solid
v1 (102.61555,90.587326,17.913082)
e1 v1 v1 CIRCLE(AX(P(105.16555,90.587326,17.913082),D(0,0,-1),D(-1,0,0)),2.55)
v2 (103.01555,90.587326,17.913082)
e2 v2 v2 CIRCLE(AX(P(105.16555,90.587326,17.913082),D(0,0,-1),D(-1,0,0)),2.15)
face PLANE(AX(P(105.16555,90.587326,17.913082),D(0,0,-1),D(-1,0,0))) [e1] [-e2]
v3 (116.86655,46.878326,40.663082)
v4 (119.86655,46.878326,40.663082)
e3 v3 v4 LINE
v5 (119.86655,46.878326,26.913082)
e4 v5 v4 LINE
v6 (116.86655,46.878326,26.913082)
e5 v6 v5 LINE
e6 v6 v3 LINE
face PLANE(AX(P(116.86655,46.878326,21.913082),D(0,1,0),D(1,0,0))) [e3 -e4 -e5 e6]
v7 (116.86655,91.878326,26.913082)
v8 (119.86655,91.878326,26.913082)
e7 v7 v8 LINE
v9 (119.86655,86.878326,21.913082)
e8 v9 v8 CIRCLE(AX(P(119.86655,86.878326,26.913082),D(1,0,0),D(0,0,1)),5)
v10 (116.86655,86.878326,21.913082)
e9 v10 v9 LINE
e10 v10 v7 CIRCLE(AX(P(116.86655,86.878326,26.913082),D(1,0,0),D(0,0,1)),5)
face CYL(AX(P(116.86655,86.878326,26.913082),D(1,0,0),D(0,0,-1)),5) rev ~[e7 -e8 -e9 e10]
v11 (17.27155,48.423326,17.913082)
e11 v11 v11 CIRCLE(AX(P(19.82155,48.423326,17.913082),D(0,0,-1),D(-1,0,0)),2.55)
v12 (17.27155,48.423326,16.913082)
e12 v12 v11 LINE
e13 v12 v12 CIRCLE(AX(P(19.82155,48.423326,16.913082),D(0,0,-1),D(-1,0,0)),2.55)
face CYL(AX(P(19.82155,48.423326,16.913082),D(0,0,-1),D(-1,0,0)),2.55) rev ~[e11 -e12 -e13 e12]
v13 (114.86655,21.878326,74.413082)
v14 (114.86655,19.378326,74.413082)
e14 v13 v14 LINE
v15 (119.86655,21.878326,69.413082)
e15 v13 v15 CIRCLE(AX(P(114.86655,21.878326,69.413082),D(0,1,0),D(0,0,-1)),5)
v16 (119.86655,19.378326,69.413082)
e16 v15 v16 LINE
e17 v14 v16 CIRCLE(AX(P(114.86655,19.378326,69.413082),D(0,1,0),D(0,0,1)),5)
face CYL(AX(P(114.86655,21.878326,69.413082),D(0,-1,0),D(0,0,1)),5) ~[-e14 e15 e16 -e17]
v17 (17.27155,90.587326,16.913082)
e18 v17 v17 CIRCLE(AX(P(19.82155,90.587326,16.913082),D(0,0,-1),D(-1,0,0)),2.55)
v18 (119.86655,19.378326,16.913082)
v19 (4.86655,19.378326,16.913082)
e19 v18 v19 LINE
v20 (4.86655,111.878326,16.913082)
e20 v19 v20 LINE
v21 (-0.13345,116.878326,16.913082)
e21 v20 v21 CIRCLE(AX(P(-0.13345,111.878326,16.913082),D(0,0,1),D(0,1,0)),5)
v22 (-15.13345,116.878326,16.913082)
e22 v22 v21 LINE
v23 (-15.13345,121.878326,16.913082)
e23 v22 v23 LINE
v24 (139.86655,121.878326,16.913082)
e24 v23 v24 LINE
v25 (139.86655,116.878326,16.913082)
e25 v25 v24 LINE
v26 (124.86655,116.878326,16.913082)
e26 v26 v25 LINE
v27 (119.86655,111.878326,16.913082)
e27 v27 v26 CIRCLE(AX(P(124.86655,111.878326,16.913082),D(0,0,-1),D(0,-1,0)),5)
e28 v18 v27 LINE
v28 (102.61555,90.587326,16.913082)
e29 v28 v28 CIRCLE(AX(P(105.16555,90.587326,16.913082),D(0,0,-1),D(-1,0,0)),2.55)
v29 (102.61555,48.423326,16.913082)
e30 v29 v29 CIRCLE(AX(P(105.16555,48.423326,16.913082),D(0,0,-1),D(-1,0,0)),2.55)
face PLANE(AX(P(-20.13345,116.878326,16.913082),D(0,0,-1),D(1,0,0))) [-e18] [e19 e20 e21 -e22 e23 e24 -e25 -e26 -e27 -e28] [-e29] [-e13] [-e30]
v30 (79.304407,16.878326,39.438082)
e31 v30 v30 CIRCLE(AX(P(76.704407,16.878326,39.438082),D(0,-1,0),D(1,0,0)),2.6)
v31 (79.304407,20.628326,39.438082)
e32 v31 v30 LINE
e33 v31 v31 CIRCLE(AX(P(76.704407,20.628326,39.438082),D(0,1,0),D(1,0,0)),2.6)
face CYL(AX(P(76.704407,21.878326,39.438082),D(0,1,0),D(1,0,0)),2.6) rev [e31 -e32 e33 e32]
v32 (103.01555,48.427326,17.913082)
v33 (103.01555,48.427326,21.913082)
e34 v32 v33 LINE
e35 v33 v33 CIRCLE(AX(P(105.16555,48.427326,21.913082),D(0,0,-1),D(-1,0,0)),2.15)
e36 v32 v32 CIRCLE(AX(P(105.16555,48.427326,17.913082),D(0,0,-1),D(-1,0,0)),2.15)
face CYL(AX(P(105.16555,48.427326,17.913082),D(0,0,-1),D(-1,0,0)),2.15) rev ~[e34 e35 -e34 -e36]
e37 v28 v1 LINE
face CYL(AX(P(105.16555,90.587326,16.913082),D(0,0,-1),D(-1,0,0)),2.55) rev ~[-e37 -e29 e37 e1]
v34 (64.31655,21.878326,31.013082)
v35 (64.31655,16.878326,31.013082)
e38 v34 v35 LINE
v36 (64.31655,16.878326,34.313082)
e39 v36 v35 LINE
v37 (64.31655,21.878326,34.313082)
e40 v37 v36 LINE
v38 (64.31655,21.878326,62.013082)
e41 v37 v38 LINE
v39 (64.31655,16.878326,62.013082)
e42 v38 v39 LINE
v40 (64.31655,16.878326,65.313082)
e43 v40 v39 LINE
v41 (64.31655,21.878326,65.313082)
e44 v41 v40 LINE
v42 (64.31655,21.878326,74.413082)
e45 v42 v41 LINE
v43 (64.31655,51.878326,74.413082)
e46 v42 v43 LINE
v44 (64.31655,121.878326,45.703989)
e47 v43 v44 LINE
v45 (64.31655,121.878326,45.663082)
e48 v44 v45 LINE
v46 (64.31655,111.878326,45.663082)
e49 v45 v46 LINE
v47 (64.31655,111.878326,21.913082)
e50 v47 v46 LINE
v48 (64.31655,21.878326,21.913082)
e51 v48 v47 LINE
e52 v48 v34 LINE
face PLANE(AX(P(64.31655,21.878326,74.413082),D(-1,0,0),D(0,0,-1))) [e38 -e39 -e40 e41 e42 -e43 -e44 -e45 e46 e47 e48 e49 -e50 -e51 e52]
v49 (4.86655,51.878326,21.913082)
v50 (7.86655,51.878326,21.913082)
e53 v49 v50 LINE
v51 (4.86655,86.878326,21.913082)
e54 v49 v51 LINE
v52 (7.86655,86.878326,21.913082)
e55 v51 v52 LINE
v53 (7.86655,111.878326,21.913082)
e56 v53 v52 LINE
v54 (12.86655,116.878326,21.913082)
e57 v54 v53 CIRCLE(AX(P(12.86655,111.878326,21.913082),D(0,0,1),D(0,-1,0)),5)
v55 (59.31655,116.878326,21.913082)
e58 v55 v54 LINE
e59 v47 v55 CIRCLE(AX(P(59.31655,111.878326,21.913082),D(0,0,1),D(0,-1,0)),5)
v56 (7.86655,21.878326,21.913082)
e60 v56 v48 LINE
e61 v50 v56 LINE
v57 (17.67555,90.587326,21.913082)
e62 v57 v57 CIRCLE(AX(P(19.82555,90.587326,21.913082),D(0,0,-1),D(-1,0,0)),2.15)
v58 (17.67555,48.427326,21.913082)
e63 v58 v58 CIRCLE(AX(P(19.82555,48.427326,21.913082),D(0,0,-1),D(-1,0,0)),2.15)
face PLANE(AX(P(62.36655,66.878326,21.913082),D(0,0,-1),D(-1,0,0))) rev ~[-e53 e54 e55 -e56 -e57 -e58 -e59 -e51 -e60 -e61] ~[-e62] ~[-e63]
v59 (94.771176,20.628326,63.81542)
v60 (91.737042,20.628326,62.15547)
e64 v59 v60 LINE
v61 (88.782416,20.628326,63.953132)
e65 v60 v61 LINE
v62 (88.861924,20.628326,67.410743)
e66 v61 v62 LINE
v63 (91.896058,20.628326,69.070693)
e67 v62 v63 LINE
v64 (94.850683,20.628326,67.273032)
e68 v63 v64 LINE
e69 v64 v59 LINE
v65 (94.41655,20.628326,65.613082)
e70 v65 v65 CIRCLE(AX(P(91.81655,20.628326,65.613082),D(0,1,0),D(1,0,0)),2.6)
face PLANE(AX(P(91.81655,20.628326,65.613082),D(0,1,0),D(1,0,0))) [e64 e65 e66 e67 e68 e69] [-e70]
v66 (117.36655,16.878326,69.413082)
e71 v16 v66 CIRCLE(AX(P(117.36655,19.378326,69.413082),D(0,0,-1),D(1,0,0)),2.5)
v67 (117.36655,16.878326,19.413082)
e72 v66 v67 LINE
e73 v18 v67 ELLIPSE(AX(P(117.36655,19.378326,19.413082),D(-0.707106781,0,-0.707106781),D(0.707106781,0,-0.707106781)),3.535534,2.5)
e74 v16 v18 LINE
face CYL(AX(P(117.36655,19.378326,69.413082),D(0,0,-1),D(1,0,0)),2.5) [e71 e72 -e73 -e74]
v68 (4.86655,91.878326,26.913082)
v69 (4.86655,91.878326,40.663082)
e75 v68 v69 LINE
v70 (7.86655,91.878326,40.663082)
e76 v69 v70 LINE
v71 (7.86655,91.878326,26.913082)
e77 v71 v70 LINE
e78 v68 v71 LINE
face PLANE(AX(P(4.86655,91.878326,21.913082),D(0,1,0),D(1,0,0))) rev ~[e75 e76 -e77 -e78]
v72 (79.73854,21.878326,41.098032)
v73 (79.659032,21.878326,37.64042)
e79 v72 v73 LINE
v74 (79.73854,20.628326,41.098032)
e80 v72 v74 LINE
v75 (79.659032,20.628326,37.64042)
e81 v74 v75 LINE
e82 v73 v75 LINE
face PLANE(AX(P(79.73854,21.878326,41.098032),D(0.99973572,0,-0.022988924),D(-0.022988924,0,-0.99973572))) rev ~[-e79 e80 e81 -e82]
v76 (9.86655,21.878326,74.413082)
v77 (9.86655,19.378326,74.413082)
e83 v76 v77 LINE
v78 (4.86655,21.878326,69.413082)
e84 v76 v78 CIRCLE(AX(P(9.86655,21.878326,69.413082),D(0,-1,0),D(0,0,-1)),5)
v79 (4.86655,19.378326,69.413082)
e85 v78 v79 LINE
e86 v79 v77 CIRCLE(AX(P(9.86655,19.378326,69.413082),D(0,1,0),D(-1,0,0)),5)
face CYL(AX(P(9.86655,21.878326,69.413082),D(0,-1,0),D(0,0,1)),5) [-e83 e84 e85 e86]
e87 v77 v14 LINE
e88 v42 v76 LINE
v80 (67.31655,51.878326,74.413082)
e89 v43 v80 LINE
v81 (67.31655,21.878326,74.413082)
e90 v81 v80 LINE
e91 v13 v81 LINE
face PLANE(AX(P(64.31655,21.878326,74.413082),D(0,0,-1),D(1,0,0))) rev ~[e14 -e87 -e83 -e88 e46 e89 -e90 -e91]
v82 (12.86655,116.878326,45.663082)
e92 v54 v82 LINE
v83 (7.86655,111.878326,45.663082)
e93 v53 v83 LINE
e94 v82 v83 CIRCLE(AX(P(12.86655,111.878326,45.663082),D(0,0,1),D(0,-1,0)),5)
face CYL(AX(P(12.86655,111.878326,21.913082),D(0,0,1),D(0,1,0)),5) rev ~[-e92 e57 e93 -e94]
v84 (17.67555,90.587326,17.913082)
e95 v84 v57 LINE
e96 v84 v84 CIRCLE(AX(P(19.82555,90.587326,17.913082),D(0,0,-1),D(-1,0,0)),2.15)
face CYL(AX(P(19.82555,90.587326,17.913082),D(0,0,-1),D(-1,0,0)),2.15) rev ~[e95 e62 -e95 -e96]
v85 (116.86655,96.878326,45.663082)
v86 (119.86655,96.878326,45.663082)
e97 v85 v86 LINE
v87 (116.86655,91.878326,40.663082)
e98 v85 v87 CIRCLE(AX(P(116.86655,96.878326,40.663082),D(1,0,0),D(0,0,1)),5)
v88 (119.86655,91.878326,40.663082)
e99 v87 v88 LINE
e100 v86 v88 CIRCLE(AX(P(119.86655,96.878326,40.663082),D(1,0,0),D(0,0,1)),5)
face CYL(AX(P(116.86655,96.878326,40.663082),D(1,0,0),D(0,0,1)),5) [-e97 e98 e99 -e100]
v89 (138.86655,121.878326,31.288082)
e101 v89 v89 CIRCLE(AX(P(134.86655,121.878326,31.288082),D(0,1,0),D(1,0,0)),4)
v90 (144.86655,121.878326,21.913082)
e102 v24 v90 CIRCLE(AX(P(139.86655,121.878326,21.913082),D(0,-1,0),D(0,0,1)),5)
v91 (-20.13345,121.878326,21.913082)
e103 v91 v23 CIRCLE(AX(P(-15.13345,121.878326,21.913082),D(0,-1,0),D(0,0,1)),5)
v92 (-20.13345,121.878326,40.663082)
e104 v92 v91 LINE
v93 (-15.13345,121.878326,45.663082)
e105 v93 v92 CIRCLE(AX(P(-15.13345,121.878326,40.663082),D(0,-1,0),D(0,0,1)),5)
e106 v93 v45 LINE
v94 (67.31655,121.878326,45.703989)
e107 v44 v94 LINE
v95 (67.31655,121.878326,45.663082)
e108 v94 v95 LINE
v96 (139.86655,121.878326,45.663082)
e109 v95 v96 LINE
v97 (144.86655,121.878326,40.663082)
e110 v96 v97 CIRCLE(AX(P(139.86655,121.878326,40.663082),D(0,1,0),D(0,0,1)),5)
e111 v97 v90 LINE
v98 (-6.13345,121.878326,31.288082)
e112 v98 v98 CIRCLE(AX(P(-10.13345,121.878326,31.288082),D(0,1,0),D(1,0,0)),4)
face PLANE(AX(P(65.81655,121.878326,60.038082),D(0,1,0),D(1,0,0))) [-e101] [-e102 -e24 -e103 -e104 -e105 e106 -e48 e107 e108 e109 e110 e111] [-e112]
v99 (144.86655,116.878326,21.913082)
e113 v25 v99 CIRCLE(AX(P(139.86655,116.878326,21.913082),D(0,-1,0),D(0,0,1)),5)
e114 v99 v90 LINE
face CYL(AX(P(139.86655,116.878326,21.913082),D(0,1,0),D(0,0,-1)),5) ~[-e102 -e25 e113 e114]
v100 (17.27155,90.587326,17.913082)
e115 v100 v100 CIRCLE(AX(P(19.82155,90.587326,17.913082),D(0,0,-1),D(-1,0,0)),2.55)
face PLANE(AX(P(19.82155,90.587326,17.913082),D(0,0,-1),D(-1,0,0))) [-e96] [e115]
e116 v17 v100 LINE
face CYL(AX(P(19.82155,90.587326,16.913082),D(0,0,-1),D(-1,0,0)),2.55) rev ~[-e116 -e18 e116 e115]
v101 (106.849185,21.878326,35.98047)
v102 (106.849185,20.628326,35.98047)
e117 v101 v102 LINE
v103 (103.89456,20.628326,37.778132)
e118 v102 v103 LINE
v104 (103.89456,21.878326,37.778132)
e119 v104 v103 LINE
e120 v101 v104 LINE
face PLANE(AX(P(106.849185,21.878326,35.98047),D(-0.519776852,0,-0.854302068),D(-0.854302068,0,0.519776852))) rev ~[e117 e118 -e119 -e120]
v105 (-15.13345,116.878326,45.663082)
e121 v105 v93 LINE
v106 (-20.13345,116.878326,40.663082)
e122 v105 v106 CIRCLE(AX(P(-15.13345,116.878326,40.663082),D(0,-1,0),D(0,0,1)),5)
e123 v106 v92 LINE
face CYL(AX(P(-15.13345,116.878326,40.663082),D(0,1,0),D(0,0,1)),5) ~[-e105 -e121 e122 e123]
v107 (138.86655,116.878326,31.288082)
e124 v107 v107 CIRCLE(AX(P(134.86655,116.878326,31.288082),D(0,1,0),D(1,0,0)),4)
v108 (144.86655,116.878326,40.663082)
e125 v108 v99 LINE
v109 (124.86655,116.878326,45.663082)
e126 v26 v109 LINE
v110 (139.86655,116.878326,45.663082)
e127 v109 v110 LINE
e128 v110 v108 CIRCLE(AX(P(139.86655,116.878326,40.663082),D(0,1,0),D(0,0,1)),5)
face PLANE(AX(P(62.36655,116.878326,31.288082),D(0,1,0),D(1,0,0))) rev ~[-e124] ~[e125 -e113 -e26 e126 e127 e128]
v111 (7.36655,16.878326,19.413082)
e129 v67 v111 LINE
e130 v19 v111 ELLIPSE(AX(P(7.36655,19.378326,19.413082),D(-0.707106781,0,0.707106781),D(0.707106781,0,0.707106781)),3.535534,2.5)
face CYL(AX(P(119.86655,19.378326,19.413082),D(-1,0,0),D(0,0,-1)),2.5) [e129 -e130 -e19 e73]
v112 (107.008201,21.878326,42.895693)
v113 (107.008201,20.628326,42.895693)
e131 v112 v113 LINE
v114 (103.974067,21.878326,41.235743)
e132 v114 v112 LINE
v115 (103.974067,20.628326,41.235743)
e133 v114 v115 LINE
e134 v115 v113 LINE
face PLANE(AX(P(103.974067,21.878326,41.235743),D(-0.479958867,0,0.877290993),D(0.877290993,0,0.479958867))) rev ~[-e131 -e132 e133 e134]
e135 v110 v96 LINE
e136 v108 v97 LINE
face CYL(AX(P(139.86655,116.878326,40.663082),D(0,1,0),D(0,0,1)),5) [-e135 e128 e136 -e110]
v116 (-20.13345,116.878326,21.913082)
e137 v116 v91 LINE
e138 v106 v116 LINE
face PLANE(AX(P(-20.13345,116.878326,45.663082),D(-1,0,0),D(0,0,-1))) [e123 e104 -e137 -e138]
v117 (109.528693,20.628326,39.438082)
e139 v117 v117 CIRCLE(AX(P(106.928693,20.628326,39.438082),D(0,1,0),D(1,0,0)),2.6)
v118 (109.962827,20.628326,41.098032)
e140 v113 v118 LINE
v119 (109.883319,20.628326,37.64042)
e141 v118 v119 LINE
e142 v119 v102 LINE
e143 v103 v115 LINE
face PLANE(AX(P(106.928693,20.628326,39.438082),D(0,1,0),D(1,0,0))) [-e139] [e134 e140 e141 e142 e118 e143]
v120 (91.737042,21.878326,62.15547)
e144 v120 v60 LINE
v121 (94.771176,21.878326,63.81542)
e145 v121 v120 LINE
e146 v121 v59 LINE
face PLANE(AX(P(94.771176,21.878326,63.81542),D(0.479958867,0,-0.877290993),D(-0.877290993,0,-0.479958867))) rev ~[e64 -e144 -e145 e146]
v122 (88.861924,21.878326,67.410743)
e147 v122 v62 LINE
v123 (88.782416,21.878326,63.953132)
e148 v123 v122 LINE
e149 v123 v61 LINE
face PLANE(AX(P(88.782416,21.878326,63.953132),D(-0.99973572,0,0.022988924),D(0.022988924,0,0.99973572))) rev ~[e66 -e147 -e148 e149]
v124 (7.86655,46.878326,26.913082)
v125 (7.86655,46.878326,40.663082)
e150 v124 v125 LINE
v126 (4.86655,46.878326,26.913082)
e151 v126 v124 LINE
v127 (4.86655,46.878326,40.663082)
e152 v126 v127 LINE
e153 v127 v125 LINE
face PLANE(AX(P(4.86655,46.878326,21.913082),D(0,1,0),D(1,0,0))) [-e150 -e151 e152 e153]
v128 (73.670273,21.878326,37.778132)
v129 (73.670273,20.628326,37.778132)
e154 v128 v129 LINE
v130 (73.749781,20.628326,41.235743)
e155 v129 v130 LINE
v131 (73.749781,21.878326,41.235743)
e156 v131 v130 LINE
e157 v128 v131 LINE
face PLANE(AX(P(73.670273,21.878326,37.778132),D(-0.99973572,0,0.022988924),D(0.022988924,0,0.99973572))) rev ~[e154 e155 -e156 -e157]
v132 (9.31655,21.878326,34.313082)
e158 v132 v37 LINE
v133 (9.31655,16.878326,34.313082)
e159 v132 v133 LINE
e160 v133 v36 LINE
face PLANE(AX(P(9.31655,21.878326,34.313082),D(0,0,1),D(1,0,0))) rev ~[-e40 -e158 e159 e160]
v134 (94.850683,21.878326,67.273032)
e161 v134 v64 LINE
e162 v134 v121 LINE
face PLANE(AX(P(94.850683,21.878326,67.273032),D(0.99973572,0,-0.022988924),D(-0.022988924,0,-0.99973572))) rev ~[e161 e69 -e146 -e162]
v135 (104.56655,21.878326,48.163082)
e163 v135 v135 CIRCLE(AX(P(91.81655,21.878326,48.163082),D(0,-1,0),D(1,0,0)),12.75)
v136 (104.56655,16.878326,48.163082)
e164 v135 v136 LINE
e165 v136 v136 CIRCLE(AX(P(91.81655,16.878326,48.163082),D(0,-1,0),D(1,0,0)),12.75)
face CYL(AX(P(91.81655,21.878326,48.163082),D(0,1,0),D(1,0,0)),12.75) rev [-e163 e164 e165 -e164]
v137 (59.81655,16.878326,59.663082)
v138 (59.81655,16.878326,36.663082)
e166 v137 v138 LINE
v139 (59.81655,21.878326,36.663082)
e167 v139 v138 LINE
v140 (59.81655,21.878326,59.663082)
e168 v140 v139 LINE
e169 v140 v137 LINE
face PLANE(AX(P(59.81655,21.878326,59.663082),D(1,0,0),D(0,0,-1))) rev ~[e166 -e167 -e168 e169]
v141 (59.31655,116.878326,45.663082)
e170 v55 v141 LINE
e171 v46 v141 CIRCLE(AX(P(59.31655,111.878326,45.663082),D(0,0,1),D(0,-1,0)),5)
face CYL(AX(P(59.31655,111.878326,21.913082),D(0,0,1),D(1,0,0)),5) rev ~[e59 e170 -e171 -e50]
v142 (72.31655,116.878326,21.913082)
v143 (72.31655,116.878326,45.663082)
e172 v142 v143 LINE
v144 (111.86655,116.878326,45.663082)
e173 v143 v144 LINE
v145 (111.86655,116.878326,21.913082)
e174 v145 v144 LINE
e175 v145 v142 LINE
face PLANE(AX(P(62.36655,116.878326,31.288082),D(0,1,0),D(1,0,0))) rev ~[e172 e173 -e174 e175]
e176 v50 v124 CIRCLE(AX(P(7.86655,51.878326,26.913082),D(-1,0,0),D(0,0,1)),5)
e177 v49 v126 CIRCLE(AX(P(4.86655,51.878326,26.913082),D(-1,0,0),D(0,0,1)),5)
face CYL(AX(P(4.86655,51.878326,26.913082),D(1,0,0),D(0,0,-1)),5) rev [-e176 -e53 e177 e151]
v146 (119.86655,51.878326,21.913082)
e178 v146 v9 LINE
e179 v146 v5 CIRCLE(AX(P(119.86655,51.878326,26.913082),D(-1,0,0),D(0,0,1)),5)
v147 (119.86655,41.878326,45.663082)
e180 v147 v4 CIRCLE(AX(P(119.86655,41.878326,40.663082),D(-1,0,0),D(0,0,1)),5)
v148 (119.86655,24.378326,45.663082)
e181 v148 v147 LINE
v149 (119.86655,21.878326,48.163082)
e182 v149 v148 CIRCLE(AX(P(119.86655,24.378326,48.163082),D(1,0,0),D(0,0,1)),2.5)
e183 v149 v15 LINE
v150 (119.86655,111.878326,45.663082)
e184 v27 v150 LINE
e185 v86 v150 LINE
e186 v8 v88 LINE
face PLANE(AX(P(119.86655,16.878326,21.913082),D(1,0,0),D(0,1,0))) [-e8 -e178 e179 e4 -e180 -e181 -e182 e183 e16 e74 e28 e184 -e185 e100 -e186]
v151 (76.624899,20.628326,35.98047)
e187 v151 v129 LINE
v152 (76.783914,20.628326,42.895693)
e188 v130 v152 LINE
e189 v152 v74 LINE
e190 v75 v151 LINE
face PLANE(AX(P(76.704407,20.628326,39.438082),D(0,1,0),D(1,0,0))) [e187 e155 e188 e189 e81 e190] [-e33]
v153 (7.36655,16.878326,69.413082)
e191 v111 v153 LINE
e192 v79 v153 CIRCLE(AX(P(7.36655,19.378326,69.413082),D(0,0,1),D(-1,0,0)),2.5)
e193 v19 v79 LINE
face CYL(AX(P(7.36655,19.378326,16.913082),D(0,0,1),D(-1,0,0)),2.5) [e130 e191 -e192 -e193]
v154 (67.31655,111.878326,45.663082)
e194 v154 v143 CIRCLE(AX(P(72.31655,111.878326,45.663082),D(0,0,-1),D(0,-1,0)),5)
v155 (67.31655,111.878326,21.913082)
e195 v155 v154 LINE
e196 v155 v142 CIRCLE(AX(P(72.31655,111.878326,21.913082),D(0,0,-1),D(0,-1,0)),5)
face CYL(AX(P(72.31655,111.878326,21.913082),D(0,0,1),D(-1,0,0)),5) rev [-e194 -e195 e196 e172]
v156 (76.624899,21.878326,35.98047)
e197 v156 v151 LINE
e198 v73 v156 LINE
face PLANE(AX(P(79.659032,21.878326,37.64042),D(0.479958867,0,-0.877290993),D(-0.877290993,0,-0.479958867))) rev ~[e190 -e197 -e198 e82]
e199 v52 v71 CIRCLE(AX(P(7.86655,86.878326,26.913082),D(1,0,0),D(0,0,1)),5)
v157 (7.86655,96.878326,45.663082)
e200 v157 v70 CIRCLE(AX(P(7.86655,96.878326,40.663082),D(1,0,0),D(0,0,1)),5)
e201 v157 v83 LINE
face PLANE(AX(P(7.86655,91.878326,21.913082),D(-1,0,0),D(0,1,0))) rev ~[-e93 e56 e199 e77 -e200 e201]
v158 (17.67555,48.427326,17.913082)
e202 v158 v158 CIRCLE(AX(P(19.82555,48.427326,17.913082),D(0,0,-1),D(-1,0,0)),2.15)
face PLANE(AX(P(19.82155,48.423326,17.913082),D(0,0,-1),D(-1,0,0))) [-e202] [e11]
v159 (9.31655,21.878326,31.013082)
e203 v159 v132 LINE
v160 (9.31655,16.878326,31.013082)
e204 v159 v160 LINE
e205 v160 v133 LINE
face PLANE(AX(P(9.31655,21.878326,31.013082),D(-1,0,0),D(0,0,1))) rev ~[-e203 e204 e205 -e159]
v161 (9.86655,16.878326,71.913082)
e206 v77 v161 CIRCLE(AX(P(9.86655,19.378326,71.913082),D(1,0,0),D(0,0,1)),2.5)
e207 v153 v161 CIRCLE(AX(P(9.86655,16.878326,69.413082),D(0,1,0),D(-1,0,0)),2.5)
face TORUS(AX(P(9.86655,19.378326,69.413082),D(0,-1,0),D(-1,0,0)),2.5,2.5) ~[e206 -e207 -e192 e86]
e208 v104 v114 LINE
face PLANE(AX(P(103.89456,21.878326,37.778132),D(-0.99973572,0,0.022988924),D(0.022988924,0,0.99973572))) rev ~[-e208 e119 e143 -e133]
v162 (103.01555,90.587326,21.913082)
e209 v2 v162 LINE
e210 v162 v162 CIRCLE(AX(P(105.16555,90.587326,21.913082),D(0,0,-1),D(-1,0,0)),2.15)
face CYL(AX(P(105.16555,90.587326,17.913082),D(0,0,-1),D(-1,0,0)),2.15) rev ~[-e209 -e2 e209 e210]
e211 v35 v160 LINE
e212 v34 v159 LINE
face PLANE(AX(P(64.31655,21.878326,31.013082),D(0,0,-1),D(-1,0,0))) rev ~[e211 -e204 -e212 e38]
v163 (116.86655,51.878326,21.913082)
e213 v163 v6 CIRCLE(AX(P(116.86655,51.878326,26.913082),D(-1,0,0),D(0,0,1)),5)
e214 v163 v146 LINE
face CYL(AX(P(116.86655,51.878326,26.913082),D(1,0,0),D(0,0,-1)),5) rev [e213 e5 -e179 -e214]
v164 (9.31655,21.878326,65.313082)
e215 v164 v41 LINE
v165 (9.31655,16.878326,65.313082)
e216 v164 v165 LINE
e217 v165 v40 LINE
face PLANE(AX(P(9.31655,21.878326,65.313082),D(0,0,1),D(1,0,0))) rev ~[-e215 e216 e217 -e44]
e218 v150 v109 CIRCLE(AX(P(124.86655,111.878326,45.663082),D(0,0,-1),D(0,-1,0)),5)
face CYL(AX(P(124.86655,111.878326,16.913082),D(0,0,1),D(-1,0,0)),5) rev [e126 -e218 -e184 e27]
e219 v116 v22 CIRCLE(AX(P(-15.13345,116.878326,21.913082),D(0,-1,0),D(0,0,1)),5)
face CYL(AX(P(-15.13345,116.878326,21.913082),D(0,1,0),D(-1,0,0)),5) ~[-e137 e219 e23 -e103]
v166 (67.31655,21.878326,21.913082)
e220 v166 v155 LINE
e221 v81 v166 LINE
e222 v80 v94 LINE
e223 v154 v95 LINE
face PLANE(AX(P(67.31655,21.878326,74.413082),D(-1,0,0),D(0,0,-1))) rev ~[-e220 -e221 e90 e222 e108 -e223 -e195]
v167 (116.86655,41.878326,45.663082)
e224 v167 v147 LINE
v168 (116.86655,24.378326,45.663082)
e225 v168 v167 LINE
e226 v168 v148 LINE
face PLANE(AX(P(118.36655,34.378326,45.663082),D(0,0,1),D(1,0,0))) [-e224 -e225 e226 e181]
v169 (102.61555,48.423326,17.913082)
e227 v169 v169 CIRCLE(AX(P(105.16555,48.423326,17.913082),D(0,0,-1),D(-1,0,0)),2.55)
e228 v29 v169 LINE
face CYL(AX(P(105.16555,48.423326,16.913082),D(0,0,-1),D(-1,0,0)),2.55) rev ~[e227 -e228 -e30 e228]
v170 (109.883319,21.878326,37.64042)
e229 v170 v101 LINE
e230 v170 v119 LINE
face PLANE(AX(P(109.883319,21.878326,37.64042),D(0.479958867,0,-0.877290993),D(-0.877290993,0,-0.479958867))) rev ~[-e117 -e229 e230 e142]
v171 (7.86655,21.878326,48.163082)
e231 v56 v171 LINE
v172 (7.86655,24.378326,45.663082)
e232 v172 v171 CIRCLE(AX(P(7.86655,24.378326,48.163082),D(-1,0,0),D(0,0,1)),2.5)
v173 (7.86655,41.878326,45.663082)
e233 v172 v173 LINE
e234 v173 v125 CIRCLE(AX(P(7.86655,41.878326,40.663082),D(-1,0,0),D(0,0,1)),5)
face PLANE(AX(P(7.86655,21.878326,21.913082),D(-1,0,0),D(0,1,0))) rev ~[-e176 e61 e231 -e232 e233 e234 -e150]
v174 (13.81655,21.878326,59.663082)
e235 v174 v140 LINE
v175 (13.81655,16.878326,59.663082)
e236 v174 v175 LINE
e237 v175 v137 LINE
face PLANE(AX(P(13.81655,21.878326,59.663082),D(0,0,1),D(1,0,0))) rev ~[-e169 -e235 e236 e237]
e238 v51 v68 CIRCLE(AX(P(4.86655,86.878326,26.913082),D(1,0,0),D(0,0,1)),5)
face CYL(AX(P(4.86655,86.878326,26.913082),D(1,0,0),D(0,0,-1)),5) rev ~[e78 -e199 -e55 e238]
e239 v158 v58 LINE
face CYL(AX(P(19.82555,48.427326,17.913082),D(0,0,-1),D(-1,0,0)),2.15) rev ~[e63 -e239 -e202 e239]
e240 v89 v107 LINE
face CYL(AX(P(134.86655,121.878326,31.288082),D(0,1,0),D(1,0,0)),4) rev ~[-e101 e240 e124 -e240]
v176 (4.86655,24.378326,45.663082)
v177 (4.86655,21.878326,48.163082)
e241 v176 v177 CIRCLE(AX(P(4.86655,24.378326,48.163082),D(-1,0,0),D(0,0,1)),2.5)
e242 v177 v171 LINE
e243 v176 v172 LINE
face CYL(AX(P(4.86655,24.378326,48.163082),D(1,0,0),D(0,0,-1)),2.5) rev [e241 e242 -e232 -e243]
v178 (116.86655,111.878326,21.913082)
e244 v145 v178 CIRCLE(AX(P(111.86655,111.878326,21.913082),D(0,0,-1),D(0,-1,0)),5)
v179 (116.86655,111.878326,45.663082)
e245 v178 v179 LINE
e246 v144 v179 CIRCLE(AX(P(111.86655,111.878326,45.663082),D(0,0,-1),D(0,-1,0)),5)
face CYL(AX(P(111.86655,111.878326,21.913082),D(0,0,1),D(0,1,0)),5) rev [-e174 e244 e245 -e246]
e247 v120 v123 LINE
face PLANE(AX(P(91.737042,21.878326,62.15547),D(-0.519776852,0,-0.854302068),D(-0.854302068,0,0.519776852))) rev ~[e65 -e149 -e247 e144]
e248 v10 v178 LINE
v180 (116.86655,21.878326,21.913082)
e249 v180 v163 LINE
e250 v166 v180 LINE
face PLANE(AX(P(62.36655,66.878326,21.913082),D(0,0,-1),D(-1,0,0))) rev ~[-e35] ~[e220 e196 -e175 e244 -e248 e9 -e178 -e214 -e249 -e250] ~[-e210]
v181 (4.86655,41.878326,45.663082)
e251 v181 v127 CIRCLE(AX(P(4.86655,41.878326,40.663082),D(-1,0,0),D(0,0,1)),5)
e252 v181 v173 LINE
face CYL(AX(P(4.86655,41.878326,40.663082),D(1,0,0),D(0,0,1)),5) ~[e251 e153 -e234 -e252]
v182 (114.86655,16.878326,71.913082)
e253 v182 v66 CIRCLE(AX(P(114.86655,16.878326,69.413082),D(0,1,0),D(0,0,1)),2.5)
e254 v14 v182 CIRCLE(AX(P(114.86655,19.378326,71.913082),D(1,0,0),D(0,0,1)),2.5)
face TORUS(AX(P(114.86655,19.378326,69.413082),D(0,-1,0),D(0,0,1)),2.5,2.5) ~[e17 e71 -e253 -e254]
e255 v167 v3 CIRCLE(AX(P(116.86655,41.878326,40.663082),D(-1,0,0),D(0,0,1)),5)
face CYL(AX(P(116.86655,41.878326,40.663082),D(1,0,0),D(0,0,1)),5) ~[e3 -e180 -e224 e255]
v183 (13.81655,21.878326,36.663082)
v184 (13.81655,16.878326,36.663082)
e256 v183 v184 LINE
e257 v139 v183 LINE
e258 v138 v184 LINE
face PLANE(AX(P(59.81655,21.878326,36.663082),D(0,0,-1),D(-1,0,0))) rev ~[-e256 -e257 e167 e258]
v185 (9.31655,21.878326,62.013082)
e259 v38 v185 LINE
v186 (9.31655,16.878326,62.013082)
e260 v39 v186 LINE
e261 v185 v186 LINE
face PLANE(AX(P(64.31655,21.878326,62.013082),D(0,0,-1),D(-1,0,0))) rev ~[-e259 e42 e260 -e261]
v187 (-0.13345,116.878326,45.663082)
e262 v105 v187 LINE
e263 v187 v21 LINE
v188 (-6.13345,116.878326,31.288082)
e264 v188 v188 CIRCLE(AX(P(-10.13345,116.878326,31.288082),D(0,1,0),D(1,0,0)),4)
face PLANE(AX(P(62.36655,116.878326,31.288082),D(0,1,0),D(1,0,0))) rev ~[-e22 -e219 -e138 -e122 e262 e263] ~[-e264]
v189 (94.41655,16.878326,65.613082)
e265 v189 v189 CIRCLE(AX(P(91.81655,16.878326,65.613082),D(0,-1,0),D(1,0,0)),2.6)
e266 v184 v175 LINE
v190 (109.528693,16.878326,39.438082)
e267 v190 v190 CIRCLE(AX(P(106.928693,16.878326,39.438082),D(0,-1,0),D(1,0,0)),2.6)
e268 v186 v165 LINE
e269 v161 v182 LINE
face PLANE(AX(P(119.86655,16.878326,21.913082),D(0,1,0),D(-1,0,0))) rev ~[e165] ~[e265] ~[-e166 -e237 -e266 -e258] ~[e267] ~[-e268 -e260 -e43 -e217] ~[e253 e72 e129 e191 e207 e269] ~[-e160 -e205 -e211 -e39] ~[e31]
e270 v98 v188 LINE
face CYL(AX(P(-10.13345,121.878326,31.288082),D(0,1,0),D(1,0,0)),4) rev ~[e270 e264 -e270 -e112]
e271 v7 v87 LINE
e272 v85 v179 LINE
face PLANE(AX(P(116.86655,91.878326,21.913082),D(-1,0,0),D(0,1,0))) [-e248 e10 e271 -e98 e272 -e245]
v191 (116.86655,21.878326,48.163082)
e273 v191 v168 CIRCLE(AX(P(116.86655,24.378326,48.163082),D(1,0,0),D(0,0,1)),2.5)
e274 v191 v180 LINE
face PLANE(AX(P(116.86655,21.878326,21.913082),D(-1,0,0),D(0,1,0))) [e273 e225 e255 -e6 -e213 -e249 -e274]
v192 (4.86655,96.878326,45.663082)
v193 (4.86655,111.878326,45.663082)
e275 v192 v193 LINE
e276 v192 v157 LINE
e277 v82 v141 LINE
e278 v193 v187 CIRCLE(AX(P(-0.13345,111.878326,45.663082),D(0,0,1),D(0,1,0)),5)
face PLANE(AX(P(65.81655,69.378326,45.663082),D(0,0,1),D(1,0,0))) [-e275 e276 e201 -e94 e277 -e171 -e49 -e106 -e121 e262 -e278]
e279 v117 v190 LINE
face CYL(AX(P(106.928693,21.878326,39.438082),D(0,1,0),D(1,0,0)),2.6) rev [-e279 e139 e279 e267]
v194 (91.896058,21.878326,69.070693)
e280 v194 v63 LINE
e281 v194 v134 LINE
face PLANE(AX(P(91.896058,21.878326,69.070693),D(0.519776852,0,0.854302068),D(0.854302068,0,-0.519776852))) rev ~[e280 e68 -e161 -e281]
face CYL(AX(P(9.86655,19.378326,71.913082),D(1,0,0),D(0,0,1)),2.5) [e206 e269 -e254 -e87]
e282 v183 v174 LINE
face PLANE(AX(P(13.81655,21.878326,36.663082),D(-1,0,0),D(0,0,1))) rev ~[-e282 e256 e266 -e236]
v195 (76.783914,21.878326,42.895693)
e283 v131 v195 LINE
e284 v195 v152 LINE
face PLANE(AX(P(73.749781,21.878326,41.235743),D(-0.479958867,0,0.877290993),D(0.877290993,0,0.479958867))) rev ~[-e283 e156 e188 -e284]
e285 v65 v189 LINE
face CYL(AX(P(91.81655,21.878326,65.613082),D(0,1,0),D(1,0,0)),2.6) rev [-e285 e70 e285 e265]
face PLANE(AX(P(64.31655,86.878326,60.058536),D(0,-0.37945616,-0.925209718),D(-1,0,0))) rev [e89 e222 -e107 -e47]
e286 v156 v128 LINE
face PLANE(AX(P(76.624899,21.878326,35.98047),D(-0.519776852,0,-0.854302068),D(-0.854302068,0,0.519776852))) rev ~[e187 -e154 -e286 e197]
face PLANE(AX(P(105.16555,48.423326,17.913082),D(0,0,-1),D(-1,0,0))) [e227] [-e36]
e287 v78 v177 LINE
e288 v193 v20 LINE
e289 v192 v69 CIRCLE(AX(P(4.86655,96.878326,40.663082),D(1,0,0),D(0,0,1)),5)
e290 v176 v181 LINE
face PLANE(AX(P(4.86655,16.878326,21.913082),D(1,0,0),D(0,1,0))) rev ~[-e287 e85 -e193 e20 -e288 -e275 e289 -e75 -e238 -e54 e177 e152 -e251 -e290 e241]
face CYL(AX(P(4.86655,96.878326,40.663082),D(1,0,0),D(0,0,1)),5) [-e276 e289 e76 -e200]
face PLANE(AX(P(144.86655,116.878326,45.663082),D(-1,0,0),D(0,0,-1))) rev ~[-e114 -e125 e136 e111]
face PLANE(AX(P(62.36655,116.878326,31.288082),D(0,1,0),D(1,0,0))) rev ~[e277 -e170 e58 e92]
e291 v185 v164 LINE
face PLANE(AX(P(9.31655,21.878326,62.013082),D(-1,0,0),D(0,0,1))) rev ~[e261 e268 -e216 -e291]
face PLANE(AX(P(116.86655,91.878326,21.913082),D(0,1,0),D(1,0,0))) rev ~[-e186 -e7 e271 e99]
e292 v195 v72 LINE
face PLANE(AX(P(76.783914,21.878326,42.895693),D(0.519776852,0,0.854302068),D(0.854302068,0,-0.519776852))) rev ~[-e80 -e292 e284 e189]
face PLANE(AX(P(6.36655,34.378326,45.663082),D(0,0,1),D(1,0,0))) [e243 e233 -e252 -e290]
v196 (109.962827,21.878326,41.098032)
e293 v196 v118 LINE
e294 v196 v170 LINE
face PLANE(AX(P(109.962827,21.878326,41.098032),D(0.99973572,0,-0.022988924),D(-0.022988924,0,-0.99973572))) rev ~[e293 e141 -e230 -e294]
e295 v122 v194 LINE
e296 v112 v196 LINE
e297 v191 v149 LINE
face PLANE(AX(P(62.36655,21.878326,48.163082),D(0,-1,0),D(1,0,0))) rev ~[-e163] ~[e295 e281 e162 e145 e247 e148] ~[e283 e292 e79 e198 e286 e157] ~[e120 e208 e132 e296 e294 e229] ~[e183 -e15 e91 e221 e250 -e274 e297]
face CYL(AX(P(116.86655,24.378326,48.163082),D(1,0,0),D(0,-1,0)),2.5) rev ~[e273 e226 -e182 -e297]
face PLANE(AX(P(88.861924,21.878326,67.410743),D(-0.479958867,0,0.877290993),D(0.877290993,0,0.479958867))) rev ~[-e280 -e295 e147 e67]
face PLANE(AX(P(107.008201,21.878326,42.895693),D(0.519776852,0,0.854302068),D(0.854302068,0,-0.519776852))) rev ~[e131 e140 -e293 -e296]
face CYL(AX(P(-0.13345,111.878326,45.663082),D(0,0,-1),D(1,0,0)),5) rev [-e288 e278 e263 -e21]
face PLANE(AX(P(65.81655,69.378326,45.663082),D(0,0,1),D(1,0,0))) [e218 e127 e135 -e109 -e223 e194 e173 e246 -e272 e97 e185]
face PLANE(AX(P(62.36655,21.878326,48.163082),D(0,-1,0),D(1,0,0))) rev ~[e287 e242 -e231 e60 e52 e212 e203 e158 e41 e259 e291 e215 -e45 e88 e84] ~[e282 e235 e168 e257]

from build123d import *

# Parameters (mm, degrees)
SKETCH2_R           = 2.6
SKETCH2_R_2         = 12.75
BOSS_EXTRUDE1_DEPTH = 5
SKETCH3_W           = 115
SKETCH3_H           = 100
BOSS_EXTRUDE2_DEPTH = 5
SKETCH4_W           = 165
SKETCH4_H           = 28.75
BOSS_EXTRUDE3_DEPTH = 5
SKETCH5_W           = 3
SKETCH5_H           = 95
SKETCH5_H_2         = 25
BOSS_EXTRUDE4_DEPTH = 23.75
SKETCH6_R           = 4
CUT_EXTRUDE1_DEPTH  = 5
SKETCH7_R           = 2.55
CUT_EXTRUDE2_DEPTH  = 1
SKETCH8_R           = 2.15
CUT_EXTRUDE3_DEPTH  = 4
SKETCH9_W           = 3
SKETCH9_H           = 28.75
BOSS_EXTRUDE5_DEPTH = 100
CHAMFER1_SIZE       = 70
CHAMFER1_SIZE2      = 28.709092262
FILLET1_R           = 5
FILLET2_R           = 2.5
CUT_EXTRUDE4_DEPTH  = 1.25


with BuildPart() as part:
    # Sketch2 → Boss-Extrude1 (new body)
    with BuildSketch(Plane.XZ.offset(-21.878326304)):
        Polygon((119.866549827, 74.413081659), (14.866549827, 74.413081659), (4.866549827, 74.413081659), (4.866549827, 21.913081659), (14.866549827, 21.913081659), (119.866549827, 21.913081659), align=None)
        Polygon((9.316549827, 34.313081659), (14.316549827, 34.313081659), (26.316549827, 34.313081659), (57.316549827, 34.313081659), (64.316549827, 34.313081659), (64.316549827, 31.013081659), (57.316549753, 31.013081659), (26.316549827, 31.013081659), (14.316549827, 31.013081659), (9.316549827, 31.013081659), align=None, mode=Mode.SUBTRACT)
        with Locations((76.704406531, 39.438081659)):
            Circle(SKETCH2_R, mode=Mode.SUBTRACT)
        with Locations((106.928693123, 39.438081659)):
            Circle(SKETCH2_R, mode=Mode.SUBTRACT)
        Polygon((13.816549827, 59.663081659), (16.816549827, 59.663081659), (59.816549827, 59.663081659), (59.816549827, 36.663081659), (16.816549827, 36.663081659), (13.816549827, 36.663081659), align=None, mode=Mode.SUBTRACT)
        Polygon((57.316549827, 65.313081659), (64.316549827, 65.313081659), (64.316549827, 62.013081659), (57.316549827, 62.013081659), (26.316549827, 62.013081659), (14.316549827, 62.013081659), (9.316549827, 62.013081659), (9.316549827, 65.313081659), (14.316549827, 65.313081659), (26.316549827, 65.313081659), align=None, mode=Mode.SUBTRACT)
        with Locations((91.816549827, 48.163081659)):
            Circle(SKETCH2_R_2, mode=Mode.SUBTRACT)
        with Locations((91.816549827, 65.613081659)):
            Circle(SKETCH2_R, mode=Mode.SUBTRACT)
    extrude(amount=BOSS_EXTRUDE1_DEPTH)

    # Sketch3 → Boss-Extrude2 (add)
    with BuildSketch(Plane(origin=(0, 0, 21.913081659), x_dir=(-1, 0, 0), z_dir=(0, 0, -1))):
        with Locations((-62.366549827, 66.878326304)):
            Rectangle(SKETCH3_W, SKETCH3_H)
    extrude(amount=BOSS_EXTRUDE2_DEPTH)

    # Sketch4 → Boss-Extrude3 (add)
    with BuildSketch(Plane(origin=(0, 116.878326304, 0), x_dir=(1, 0, 0), z_dir=(0, 1, 0))):
        with Locations((62.366549827, -31.288081659)):
            Rectangle(SKETCH4_W, SKETCH4_H)
    extrude(amount=BOSS_EXTRUDE3_DEPTH)

    # Sketch5 → Boss-Extrude4 (add)
    with BuildSketch(Plane.XY.offset(21.913081659)):
        with Locations((65.816549827, 69.378326304)):
            Rectangle(SKETCH5_W, SKETCH5_H)
        with Locations((118.366549827, 104.378326304)):
            Rectangle(SKETCH5_W, SKETCH5_H_2)
        with Locations((118.366549827, 34.378326304)):
            Rectangle(SKETCH5_W, SKETCH5_H_2)
        with Locations((6.366549827, 34.378326304)):
            Rectangle(SKETCH5_W, SKETCH5_H_2)
        with Locations((6.366549827, 104.378326304)):
            Rectangle(SKETCH5_W, SKETCH5_H_2)
    extrude(amount=BOSS_EXTRUDE4_DEPTH)

    # Sketch6 → Cut-Extrude1 (cut)
    with BuildSketch(Plane(origin=(0, 121.878326304, 0), x_dir=(1, 0, 0), z_dir=(0, 1, 0))):
        with Locations((134.866549827, -31.288081659)):
            Circle(SKETCH6_R)
        with Locations((-10.133450173, -31.288081659)):
            Circle(SKETCH6_R)
    extrude(amount=-CUT_EXTRUDE1_DEPTH, mode=Mode.SUBTRACT)

    # Sketch7 → Cut-Extrude2 (cut)
    with BuildSketch(Plane(origin=(0, 0, 16.913081659), x_dir=(-1, 0, 0), z_dir=(0, 0, -1))):
        with Locations((-105.165549827, 90.587326304)):
            Circle(SKETCH7_R)
        with Locations((-105.165549827, 48.423326304)):
            Circle(SKETCH7_R)
        with Locations((-19.821549827, 48.423326304)):
            Circle(SKETCH7_R)
        with Locations((-19.821549827, 90.587326304)):
            Circle(SKETCH7_R)
    extrude(amount=-CUT_EXTRUDE2_DEPTH, mode=Mode.SUBTRACT)

    # Sketch8 → Cut-Extrude3 (cut)
    with BuildSketch(Plane(origin=(0, 0, 17.913081659), x_dir=(-1, 0, 0), z_dir=(0, 0, -1))):
        with Locations((-105.165549827, 90.587326304)):
            Circle(SKETCH8_R)
        with Locations((-19.825549827, 90.587326304)):
            Circle(SKETCH8_R)
        with Locations((-19.825549827, 48.427326304)):
            Circle(SKETCH8_R)
        with Locations((-105.165549827, 48.427326304)):
            Circle(SKETCH8_R)
    extrude(amount=-CUT_EXTRUDE3_DEPTH, mode=Mode.SUBTRACT)

    # Sketch9 → Boss-Extrude5 (add)
    with BuildSketch(Plane(origin=(0, 21.878326304, 0), x_dir=(1, 0, 0), z_dir=(0, 1, 0))):
        with Locations((65.816549827, -60.038081659)):
            Rectangle(SKETCH9_W, SKETCH9_H)
    extrude(amount=BOSS_EXTRUDE5_DEPTH)

    # Chamfer1
    chamfer1_edges = [part.edges().sort_by_distance(p)[0] for p in [
        (65.816549827, 121.878326304, 74.413081659),
    ]]
    chamfer1_side = [part.faces().sort_by_distance(p)[0] for p in [
        (118.309308677, 19.378326304, 74.413081659),
    ]]
    chamfer(chamfer1_edges, length=CHAMFER1_SIZE, length2=CHAMFER1_SIZE2, reference=chamfer1_side[0])

    # Fillet1
    fillet1_edges = [part.edges().sort_by_distance(p)[0] for p in [
        (67.316549827, 116.878326304, 33.788081659),
        (64.316549827, 116.878326304, 33.788081659),
        (118.366549827, 91.878326304, 45.663081659),
        (118.366549827, 91.878326304, 21.913081659),
        (116.866549827, 116.878326304, 33.788081659),
        (118.366549827, 46.878326304, 45.663081659),
        (118.366549827, 46.878326304, 21.913081659),
        (6.366549827, 46.878326304, 45.663081659),
        (6.366549827, 46.878326304, 21.913081659),
        (7.866549827, 116.878326304, 33.788081659),
        (6.366549827, 91.878326304, 45.663081659),
        (6.366549827, 91.878326304, 21.913081659),
        (119.866549827, 19.378326304, 74.413081659),
        (4.866549827, 19.378326304, 74.413081659),
        (119.866549827, 116.878326304, 31.288081659),
        (4.866549827, 116.878326304, 31.288081659),
        (-20.133450173, 119.378326304, 16.913081659),
        (-20.133450173, 119.378326304, 45.663081659),
        (144.866549827, 119.378326304, 45.663081659),
        (144.866549827, 119.378326304, 16.913081659),
    ]]
    fillet(fillet1_edges, radius=FILLET1_R)

    # Fillet2
    fillet2_edges = [part.edges().sort_by_distance(p)[0] for p in [
        (118.366549827, 21.878326304, 45.663081659),
        (6.366549827, 21.878326304, 45.663081659),
        (119.866549827, 16.878326304, 43.163081659),
        (4.866549827, 16.878326304, 43.163081659),
        (62.366549827, 16.878326304, 74.413081659),
        (118.402083733, 16.878326304, 72.948615565),
        (6.331015921, 16.878326304, 72.948615565),
        (62.366549827, 16.878326304, 16.913081659),
    ]]
    fillet(fillet2_edges, radius=FILLET2_R)

    # Sketch10 → Cut-Extrude4 (cut)
    with BuildSketch(Plane(origin=(0, 21.878326304, 0), x_dir=(1, 0, 0), z_dir=(0, 1, 0))):
        Polygon((106.849185334, -35.980469853), (103.894559568, -37.778131521), (103.974067356, -41.235743327), (107.008200912, -42.895693466), (109.962826678, -41.098031798), (109.883318889, -37.640419991), align=None)
        Polygon((73.749780764, -41.235743327), (76.78391432, -42.895693466), (79.738540086, -41.098031798), (79.659032297, -37.640419991), (76.624898742, -35.980469853), (73.670272976, -37.778131521), align=None)
        Polygon((94.850683382, -67.273031798), (94.771175593, -63.815419991), (91.737042038, -62.155469853), (88.782416272, -63.953131521), (88.86192406, -67.410743327), (91.896057616, -69.070693466), align=None)
    extrude(amount=-CUT_EXTRUDE4_DEPTH, mode=Mode.SUBTRACT)


solid = part.part
